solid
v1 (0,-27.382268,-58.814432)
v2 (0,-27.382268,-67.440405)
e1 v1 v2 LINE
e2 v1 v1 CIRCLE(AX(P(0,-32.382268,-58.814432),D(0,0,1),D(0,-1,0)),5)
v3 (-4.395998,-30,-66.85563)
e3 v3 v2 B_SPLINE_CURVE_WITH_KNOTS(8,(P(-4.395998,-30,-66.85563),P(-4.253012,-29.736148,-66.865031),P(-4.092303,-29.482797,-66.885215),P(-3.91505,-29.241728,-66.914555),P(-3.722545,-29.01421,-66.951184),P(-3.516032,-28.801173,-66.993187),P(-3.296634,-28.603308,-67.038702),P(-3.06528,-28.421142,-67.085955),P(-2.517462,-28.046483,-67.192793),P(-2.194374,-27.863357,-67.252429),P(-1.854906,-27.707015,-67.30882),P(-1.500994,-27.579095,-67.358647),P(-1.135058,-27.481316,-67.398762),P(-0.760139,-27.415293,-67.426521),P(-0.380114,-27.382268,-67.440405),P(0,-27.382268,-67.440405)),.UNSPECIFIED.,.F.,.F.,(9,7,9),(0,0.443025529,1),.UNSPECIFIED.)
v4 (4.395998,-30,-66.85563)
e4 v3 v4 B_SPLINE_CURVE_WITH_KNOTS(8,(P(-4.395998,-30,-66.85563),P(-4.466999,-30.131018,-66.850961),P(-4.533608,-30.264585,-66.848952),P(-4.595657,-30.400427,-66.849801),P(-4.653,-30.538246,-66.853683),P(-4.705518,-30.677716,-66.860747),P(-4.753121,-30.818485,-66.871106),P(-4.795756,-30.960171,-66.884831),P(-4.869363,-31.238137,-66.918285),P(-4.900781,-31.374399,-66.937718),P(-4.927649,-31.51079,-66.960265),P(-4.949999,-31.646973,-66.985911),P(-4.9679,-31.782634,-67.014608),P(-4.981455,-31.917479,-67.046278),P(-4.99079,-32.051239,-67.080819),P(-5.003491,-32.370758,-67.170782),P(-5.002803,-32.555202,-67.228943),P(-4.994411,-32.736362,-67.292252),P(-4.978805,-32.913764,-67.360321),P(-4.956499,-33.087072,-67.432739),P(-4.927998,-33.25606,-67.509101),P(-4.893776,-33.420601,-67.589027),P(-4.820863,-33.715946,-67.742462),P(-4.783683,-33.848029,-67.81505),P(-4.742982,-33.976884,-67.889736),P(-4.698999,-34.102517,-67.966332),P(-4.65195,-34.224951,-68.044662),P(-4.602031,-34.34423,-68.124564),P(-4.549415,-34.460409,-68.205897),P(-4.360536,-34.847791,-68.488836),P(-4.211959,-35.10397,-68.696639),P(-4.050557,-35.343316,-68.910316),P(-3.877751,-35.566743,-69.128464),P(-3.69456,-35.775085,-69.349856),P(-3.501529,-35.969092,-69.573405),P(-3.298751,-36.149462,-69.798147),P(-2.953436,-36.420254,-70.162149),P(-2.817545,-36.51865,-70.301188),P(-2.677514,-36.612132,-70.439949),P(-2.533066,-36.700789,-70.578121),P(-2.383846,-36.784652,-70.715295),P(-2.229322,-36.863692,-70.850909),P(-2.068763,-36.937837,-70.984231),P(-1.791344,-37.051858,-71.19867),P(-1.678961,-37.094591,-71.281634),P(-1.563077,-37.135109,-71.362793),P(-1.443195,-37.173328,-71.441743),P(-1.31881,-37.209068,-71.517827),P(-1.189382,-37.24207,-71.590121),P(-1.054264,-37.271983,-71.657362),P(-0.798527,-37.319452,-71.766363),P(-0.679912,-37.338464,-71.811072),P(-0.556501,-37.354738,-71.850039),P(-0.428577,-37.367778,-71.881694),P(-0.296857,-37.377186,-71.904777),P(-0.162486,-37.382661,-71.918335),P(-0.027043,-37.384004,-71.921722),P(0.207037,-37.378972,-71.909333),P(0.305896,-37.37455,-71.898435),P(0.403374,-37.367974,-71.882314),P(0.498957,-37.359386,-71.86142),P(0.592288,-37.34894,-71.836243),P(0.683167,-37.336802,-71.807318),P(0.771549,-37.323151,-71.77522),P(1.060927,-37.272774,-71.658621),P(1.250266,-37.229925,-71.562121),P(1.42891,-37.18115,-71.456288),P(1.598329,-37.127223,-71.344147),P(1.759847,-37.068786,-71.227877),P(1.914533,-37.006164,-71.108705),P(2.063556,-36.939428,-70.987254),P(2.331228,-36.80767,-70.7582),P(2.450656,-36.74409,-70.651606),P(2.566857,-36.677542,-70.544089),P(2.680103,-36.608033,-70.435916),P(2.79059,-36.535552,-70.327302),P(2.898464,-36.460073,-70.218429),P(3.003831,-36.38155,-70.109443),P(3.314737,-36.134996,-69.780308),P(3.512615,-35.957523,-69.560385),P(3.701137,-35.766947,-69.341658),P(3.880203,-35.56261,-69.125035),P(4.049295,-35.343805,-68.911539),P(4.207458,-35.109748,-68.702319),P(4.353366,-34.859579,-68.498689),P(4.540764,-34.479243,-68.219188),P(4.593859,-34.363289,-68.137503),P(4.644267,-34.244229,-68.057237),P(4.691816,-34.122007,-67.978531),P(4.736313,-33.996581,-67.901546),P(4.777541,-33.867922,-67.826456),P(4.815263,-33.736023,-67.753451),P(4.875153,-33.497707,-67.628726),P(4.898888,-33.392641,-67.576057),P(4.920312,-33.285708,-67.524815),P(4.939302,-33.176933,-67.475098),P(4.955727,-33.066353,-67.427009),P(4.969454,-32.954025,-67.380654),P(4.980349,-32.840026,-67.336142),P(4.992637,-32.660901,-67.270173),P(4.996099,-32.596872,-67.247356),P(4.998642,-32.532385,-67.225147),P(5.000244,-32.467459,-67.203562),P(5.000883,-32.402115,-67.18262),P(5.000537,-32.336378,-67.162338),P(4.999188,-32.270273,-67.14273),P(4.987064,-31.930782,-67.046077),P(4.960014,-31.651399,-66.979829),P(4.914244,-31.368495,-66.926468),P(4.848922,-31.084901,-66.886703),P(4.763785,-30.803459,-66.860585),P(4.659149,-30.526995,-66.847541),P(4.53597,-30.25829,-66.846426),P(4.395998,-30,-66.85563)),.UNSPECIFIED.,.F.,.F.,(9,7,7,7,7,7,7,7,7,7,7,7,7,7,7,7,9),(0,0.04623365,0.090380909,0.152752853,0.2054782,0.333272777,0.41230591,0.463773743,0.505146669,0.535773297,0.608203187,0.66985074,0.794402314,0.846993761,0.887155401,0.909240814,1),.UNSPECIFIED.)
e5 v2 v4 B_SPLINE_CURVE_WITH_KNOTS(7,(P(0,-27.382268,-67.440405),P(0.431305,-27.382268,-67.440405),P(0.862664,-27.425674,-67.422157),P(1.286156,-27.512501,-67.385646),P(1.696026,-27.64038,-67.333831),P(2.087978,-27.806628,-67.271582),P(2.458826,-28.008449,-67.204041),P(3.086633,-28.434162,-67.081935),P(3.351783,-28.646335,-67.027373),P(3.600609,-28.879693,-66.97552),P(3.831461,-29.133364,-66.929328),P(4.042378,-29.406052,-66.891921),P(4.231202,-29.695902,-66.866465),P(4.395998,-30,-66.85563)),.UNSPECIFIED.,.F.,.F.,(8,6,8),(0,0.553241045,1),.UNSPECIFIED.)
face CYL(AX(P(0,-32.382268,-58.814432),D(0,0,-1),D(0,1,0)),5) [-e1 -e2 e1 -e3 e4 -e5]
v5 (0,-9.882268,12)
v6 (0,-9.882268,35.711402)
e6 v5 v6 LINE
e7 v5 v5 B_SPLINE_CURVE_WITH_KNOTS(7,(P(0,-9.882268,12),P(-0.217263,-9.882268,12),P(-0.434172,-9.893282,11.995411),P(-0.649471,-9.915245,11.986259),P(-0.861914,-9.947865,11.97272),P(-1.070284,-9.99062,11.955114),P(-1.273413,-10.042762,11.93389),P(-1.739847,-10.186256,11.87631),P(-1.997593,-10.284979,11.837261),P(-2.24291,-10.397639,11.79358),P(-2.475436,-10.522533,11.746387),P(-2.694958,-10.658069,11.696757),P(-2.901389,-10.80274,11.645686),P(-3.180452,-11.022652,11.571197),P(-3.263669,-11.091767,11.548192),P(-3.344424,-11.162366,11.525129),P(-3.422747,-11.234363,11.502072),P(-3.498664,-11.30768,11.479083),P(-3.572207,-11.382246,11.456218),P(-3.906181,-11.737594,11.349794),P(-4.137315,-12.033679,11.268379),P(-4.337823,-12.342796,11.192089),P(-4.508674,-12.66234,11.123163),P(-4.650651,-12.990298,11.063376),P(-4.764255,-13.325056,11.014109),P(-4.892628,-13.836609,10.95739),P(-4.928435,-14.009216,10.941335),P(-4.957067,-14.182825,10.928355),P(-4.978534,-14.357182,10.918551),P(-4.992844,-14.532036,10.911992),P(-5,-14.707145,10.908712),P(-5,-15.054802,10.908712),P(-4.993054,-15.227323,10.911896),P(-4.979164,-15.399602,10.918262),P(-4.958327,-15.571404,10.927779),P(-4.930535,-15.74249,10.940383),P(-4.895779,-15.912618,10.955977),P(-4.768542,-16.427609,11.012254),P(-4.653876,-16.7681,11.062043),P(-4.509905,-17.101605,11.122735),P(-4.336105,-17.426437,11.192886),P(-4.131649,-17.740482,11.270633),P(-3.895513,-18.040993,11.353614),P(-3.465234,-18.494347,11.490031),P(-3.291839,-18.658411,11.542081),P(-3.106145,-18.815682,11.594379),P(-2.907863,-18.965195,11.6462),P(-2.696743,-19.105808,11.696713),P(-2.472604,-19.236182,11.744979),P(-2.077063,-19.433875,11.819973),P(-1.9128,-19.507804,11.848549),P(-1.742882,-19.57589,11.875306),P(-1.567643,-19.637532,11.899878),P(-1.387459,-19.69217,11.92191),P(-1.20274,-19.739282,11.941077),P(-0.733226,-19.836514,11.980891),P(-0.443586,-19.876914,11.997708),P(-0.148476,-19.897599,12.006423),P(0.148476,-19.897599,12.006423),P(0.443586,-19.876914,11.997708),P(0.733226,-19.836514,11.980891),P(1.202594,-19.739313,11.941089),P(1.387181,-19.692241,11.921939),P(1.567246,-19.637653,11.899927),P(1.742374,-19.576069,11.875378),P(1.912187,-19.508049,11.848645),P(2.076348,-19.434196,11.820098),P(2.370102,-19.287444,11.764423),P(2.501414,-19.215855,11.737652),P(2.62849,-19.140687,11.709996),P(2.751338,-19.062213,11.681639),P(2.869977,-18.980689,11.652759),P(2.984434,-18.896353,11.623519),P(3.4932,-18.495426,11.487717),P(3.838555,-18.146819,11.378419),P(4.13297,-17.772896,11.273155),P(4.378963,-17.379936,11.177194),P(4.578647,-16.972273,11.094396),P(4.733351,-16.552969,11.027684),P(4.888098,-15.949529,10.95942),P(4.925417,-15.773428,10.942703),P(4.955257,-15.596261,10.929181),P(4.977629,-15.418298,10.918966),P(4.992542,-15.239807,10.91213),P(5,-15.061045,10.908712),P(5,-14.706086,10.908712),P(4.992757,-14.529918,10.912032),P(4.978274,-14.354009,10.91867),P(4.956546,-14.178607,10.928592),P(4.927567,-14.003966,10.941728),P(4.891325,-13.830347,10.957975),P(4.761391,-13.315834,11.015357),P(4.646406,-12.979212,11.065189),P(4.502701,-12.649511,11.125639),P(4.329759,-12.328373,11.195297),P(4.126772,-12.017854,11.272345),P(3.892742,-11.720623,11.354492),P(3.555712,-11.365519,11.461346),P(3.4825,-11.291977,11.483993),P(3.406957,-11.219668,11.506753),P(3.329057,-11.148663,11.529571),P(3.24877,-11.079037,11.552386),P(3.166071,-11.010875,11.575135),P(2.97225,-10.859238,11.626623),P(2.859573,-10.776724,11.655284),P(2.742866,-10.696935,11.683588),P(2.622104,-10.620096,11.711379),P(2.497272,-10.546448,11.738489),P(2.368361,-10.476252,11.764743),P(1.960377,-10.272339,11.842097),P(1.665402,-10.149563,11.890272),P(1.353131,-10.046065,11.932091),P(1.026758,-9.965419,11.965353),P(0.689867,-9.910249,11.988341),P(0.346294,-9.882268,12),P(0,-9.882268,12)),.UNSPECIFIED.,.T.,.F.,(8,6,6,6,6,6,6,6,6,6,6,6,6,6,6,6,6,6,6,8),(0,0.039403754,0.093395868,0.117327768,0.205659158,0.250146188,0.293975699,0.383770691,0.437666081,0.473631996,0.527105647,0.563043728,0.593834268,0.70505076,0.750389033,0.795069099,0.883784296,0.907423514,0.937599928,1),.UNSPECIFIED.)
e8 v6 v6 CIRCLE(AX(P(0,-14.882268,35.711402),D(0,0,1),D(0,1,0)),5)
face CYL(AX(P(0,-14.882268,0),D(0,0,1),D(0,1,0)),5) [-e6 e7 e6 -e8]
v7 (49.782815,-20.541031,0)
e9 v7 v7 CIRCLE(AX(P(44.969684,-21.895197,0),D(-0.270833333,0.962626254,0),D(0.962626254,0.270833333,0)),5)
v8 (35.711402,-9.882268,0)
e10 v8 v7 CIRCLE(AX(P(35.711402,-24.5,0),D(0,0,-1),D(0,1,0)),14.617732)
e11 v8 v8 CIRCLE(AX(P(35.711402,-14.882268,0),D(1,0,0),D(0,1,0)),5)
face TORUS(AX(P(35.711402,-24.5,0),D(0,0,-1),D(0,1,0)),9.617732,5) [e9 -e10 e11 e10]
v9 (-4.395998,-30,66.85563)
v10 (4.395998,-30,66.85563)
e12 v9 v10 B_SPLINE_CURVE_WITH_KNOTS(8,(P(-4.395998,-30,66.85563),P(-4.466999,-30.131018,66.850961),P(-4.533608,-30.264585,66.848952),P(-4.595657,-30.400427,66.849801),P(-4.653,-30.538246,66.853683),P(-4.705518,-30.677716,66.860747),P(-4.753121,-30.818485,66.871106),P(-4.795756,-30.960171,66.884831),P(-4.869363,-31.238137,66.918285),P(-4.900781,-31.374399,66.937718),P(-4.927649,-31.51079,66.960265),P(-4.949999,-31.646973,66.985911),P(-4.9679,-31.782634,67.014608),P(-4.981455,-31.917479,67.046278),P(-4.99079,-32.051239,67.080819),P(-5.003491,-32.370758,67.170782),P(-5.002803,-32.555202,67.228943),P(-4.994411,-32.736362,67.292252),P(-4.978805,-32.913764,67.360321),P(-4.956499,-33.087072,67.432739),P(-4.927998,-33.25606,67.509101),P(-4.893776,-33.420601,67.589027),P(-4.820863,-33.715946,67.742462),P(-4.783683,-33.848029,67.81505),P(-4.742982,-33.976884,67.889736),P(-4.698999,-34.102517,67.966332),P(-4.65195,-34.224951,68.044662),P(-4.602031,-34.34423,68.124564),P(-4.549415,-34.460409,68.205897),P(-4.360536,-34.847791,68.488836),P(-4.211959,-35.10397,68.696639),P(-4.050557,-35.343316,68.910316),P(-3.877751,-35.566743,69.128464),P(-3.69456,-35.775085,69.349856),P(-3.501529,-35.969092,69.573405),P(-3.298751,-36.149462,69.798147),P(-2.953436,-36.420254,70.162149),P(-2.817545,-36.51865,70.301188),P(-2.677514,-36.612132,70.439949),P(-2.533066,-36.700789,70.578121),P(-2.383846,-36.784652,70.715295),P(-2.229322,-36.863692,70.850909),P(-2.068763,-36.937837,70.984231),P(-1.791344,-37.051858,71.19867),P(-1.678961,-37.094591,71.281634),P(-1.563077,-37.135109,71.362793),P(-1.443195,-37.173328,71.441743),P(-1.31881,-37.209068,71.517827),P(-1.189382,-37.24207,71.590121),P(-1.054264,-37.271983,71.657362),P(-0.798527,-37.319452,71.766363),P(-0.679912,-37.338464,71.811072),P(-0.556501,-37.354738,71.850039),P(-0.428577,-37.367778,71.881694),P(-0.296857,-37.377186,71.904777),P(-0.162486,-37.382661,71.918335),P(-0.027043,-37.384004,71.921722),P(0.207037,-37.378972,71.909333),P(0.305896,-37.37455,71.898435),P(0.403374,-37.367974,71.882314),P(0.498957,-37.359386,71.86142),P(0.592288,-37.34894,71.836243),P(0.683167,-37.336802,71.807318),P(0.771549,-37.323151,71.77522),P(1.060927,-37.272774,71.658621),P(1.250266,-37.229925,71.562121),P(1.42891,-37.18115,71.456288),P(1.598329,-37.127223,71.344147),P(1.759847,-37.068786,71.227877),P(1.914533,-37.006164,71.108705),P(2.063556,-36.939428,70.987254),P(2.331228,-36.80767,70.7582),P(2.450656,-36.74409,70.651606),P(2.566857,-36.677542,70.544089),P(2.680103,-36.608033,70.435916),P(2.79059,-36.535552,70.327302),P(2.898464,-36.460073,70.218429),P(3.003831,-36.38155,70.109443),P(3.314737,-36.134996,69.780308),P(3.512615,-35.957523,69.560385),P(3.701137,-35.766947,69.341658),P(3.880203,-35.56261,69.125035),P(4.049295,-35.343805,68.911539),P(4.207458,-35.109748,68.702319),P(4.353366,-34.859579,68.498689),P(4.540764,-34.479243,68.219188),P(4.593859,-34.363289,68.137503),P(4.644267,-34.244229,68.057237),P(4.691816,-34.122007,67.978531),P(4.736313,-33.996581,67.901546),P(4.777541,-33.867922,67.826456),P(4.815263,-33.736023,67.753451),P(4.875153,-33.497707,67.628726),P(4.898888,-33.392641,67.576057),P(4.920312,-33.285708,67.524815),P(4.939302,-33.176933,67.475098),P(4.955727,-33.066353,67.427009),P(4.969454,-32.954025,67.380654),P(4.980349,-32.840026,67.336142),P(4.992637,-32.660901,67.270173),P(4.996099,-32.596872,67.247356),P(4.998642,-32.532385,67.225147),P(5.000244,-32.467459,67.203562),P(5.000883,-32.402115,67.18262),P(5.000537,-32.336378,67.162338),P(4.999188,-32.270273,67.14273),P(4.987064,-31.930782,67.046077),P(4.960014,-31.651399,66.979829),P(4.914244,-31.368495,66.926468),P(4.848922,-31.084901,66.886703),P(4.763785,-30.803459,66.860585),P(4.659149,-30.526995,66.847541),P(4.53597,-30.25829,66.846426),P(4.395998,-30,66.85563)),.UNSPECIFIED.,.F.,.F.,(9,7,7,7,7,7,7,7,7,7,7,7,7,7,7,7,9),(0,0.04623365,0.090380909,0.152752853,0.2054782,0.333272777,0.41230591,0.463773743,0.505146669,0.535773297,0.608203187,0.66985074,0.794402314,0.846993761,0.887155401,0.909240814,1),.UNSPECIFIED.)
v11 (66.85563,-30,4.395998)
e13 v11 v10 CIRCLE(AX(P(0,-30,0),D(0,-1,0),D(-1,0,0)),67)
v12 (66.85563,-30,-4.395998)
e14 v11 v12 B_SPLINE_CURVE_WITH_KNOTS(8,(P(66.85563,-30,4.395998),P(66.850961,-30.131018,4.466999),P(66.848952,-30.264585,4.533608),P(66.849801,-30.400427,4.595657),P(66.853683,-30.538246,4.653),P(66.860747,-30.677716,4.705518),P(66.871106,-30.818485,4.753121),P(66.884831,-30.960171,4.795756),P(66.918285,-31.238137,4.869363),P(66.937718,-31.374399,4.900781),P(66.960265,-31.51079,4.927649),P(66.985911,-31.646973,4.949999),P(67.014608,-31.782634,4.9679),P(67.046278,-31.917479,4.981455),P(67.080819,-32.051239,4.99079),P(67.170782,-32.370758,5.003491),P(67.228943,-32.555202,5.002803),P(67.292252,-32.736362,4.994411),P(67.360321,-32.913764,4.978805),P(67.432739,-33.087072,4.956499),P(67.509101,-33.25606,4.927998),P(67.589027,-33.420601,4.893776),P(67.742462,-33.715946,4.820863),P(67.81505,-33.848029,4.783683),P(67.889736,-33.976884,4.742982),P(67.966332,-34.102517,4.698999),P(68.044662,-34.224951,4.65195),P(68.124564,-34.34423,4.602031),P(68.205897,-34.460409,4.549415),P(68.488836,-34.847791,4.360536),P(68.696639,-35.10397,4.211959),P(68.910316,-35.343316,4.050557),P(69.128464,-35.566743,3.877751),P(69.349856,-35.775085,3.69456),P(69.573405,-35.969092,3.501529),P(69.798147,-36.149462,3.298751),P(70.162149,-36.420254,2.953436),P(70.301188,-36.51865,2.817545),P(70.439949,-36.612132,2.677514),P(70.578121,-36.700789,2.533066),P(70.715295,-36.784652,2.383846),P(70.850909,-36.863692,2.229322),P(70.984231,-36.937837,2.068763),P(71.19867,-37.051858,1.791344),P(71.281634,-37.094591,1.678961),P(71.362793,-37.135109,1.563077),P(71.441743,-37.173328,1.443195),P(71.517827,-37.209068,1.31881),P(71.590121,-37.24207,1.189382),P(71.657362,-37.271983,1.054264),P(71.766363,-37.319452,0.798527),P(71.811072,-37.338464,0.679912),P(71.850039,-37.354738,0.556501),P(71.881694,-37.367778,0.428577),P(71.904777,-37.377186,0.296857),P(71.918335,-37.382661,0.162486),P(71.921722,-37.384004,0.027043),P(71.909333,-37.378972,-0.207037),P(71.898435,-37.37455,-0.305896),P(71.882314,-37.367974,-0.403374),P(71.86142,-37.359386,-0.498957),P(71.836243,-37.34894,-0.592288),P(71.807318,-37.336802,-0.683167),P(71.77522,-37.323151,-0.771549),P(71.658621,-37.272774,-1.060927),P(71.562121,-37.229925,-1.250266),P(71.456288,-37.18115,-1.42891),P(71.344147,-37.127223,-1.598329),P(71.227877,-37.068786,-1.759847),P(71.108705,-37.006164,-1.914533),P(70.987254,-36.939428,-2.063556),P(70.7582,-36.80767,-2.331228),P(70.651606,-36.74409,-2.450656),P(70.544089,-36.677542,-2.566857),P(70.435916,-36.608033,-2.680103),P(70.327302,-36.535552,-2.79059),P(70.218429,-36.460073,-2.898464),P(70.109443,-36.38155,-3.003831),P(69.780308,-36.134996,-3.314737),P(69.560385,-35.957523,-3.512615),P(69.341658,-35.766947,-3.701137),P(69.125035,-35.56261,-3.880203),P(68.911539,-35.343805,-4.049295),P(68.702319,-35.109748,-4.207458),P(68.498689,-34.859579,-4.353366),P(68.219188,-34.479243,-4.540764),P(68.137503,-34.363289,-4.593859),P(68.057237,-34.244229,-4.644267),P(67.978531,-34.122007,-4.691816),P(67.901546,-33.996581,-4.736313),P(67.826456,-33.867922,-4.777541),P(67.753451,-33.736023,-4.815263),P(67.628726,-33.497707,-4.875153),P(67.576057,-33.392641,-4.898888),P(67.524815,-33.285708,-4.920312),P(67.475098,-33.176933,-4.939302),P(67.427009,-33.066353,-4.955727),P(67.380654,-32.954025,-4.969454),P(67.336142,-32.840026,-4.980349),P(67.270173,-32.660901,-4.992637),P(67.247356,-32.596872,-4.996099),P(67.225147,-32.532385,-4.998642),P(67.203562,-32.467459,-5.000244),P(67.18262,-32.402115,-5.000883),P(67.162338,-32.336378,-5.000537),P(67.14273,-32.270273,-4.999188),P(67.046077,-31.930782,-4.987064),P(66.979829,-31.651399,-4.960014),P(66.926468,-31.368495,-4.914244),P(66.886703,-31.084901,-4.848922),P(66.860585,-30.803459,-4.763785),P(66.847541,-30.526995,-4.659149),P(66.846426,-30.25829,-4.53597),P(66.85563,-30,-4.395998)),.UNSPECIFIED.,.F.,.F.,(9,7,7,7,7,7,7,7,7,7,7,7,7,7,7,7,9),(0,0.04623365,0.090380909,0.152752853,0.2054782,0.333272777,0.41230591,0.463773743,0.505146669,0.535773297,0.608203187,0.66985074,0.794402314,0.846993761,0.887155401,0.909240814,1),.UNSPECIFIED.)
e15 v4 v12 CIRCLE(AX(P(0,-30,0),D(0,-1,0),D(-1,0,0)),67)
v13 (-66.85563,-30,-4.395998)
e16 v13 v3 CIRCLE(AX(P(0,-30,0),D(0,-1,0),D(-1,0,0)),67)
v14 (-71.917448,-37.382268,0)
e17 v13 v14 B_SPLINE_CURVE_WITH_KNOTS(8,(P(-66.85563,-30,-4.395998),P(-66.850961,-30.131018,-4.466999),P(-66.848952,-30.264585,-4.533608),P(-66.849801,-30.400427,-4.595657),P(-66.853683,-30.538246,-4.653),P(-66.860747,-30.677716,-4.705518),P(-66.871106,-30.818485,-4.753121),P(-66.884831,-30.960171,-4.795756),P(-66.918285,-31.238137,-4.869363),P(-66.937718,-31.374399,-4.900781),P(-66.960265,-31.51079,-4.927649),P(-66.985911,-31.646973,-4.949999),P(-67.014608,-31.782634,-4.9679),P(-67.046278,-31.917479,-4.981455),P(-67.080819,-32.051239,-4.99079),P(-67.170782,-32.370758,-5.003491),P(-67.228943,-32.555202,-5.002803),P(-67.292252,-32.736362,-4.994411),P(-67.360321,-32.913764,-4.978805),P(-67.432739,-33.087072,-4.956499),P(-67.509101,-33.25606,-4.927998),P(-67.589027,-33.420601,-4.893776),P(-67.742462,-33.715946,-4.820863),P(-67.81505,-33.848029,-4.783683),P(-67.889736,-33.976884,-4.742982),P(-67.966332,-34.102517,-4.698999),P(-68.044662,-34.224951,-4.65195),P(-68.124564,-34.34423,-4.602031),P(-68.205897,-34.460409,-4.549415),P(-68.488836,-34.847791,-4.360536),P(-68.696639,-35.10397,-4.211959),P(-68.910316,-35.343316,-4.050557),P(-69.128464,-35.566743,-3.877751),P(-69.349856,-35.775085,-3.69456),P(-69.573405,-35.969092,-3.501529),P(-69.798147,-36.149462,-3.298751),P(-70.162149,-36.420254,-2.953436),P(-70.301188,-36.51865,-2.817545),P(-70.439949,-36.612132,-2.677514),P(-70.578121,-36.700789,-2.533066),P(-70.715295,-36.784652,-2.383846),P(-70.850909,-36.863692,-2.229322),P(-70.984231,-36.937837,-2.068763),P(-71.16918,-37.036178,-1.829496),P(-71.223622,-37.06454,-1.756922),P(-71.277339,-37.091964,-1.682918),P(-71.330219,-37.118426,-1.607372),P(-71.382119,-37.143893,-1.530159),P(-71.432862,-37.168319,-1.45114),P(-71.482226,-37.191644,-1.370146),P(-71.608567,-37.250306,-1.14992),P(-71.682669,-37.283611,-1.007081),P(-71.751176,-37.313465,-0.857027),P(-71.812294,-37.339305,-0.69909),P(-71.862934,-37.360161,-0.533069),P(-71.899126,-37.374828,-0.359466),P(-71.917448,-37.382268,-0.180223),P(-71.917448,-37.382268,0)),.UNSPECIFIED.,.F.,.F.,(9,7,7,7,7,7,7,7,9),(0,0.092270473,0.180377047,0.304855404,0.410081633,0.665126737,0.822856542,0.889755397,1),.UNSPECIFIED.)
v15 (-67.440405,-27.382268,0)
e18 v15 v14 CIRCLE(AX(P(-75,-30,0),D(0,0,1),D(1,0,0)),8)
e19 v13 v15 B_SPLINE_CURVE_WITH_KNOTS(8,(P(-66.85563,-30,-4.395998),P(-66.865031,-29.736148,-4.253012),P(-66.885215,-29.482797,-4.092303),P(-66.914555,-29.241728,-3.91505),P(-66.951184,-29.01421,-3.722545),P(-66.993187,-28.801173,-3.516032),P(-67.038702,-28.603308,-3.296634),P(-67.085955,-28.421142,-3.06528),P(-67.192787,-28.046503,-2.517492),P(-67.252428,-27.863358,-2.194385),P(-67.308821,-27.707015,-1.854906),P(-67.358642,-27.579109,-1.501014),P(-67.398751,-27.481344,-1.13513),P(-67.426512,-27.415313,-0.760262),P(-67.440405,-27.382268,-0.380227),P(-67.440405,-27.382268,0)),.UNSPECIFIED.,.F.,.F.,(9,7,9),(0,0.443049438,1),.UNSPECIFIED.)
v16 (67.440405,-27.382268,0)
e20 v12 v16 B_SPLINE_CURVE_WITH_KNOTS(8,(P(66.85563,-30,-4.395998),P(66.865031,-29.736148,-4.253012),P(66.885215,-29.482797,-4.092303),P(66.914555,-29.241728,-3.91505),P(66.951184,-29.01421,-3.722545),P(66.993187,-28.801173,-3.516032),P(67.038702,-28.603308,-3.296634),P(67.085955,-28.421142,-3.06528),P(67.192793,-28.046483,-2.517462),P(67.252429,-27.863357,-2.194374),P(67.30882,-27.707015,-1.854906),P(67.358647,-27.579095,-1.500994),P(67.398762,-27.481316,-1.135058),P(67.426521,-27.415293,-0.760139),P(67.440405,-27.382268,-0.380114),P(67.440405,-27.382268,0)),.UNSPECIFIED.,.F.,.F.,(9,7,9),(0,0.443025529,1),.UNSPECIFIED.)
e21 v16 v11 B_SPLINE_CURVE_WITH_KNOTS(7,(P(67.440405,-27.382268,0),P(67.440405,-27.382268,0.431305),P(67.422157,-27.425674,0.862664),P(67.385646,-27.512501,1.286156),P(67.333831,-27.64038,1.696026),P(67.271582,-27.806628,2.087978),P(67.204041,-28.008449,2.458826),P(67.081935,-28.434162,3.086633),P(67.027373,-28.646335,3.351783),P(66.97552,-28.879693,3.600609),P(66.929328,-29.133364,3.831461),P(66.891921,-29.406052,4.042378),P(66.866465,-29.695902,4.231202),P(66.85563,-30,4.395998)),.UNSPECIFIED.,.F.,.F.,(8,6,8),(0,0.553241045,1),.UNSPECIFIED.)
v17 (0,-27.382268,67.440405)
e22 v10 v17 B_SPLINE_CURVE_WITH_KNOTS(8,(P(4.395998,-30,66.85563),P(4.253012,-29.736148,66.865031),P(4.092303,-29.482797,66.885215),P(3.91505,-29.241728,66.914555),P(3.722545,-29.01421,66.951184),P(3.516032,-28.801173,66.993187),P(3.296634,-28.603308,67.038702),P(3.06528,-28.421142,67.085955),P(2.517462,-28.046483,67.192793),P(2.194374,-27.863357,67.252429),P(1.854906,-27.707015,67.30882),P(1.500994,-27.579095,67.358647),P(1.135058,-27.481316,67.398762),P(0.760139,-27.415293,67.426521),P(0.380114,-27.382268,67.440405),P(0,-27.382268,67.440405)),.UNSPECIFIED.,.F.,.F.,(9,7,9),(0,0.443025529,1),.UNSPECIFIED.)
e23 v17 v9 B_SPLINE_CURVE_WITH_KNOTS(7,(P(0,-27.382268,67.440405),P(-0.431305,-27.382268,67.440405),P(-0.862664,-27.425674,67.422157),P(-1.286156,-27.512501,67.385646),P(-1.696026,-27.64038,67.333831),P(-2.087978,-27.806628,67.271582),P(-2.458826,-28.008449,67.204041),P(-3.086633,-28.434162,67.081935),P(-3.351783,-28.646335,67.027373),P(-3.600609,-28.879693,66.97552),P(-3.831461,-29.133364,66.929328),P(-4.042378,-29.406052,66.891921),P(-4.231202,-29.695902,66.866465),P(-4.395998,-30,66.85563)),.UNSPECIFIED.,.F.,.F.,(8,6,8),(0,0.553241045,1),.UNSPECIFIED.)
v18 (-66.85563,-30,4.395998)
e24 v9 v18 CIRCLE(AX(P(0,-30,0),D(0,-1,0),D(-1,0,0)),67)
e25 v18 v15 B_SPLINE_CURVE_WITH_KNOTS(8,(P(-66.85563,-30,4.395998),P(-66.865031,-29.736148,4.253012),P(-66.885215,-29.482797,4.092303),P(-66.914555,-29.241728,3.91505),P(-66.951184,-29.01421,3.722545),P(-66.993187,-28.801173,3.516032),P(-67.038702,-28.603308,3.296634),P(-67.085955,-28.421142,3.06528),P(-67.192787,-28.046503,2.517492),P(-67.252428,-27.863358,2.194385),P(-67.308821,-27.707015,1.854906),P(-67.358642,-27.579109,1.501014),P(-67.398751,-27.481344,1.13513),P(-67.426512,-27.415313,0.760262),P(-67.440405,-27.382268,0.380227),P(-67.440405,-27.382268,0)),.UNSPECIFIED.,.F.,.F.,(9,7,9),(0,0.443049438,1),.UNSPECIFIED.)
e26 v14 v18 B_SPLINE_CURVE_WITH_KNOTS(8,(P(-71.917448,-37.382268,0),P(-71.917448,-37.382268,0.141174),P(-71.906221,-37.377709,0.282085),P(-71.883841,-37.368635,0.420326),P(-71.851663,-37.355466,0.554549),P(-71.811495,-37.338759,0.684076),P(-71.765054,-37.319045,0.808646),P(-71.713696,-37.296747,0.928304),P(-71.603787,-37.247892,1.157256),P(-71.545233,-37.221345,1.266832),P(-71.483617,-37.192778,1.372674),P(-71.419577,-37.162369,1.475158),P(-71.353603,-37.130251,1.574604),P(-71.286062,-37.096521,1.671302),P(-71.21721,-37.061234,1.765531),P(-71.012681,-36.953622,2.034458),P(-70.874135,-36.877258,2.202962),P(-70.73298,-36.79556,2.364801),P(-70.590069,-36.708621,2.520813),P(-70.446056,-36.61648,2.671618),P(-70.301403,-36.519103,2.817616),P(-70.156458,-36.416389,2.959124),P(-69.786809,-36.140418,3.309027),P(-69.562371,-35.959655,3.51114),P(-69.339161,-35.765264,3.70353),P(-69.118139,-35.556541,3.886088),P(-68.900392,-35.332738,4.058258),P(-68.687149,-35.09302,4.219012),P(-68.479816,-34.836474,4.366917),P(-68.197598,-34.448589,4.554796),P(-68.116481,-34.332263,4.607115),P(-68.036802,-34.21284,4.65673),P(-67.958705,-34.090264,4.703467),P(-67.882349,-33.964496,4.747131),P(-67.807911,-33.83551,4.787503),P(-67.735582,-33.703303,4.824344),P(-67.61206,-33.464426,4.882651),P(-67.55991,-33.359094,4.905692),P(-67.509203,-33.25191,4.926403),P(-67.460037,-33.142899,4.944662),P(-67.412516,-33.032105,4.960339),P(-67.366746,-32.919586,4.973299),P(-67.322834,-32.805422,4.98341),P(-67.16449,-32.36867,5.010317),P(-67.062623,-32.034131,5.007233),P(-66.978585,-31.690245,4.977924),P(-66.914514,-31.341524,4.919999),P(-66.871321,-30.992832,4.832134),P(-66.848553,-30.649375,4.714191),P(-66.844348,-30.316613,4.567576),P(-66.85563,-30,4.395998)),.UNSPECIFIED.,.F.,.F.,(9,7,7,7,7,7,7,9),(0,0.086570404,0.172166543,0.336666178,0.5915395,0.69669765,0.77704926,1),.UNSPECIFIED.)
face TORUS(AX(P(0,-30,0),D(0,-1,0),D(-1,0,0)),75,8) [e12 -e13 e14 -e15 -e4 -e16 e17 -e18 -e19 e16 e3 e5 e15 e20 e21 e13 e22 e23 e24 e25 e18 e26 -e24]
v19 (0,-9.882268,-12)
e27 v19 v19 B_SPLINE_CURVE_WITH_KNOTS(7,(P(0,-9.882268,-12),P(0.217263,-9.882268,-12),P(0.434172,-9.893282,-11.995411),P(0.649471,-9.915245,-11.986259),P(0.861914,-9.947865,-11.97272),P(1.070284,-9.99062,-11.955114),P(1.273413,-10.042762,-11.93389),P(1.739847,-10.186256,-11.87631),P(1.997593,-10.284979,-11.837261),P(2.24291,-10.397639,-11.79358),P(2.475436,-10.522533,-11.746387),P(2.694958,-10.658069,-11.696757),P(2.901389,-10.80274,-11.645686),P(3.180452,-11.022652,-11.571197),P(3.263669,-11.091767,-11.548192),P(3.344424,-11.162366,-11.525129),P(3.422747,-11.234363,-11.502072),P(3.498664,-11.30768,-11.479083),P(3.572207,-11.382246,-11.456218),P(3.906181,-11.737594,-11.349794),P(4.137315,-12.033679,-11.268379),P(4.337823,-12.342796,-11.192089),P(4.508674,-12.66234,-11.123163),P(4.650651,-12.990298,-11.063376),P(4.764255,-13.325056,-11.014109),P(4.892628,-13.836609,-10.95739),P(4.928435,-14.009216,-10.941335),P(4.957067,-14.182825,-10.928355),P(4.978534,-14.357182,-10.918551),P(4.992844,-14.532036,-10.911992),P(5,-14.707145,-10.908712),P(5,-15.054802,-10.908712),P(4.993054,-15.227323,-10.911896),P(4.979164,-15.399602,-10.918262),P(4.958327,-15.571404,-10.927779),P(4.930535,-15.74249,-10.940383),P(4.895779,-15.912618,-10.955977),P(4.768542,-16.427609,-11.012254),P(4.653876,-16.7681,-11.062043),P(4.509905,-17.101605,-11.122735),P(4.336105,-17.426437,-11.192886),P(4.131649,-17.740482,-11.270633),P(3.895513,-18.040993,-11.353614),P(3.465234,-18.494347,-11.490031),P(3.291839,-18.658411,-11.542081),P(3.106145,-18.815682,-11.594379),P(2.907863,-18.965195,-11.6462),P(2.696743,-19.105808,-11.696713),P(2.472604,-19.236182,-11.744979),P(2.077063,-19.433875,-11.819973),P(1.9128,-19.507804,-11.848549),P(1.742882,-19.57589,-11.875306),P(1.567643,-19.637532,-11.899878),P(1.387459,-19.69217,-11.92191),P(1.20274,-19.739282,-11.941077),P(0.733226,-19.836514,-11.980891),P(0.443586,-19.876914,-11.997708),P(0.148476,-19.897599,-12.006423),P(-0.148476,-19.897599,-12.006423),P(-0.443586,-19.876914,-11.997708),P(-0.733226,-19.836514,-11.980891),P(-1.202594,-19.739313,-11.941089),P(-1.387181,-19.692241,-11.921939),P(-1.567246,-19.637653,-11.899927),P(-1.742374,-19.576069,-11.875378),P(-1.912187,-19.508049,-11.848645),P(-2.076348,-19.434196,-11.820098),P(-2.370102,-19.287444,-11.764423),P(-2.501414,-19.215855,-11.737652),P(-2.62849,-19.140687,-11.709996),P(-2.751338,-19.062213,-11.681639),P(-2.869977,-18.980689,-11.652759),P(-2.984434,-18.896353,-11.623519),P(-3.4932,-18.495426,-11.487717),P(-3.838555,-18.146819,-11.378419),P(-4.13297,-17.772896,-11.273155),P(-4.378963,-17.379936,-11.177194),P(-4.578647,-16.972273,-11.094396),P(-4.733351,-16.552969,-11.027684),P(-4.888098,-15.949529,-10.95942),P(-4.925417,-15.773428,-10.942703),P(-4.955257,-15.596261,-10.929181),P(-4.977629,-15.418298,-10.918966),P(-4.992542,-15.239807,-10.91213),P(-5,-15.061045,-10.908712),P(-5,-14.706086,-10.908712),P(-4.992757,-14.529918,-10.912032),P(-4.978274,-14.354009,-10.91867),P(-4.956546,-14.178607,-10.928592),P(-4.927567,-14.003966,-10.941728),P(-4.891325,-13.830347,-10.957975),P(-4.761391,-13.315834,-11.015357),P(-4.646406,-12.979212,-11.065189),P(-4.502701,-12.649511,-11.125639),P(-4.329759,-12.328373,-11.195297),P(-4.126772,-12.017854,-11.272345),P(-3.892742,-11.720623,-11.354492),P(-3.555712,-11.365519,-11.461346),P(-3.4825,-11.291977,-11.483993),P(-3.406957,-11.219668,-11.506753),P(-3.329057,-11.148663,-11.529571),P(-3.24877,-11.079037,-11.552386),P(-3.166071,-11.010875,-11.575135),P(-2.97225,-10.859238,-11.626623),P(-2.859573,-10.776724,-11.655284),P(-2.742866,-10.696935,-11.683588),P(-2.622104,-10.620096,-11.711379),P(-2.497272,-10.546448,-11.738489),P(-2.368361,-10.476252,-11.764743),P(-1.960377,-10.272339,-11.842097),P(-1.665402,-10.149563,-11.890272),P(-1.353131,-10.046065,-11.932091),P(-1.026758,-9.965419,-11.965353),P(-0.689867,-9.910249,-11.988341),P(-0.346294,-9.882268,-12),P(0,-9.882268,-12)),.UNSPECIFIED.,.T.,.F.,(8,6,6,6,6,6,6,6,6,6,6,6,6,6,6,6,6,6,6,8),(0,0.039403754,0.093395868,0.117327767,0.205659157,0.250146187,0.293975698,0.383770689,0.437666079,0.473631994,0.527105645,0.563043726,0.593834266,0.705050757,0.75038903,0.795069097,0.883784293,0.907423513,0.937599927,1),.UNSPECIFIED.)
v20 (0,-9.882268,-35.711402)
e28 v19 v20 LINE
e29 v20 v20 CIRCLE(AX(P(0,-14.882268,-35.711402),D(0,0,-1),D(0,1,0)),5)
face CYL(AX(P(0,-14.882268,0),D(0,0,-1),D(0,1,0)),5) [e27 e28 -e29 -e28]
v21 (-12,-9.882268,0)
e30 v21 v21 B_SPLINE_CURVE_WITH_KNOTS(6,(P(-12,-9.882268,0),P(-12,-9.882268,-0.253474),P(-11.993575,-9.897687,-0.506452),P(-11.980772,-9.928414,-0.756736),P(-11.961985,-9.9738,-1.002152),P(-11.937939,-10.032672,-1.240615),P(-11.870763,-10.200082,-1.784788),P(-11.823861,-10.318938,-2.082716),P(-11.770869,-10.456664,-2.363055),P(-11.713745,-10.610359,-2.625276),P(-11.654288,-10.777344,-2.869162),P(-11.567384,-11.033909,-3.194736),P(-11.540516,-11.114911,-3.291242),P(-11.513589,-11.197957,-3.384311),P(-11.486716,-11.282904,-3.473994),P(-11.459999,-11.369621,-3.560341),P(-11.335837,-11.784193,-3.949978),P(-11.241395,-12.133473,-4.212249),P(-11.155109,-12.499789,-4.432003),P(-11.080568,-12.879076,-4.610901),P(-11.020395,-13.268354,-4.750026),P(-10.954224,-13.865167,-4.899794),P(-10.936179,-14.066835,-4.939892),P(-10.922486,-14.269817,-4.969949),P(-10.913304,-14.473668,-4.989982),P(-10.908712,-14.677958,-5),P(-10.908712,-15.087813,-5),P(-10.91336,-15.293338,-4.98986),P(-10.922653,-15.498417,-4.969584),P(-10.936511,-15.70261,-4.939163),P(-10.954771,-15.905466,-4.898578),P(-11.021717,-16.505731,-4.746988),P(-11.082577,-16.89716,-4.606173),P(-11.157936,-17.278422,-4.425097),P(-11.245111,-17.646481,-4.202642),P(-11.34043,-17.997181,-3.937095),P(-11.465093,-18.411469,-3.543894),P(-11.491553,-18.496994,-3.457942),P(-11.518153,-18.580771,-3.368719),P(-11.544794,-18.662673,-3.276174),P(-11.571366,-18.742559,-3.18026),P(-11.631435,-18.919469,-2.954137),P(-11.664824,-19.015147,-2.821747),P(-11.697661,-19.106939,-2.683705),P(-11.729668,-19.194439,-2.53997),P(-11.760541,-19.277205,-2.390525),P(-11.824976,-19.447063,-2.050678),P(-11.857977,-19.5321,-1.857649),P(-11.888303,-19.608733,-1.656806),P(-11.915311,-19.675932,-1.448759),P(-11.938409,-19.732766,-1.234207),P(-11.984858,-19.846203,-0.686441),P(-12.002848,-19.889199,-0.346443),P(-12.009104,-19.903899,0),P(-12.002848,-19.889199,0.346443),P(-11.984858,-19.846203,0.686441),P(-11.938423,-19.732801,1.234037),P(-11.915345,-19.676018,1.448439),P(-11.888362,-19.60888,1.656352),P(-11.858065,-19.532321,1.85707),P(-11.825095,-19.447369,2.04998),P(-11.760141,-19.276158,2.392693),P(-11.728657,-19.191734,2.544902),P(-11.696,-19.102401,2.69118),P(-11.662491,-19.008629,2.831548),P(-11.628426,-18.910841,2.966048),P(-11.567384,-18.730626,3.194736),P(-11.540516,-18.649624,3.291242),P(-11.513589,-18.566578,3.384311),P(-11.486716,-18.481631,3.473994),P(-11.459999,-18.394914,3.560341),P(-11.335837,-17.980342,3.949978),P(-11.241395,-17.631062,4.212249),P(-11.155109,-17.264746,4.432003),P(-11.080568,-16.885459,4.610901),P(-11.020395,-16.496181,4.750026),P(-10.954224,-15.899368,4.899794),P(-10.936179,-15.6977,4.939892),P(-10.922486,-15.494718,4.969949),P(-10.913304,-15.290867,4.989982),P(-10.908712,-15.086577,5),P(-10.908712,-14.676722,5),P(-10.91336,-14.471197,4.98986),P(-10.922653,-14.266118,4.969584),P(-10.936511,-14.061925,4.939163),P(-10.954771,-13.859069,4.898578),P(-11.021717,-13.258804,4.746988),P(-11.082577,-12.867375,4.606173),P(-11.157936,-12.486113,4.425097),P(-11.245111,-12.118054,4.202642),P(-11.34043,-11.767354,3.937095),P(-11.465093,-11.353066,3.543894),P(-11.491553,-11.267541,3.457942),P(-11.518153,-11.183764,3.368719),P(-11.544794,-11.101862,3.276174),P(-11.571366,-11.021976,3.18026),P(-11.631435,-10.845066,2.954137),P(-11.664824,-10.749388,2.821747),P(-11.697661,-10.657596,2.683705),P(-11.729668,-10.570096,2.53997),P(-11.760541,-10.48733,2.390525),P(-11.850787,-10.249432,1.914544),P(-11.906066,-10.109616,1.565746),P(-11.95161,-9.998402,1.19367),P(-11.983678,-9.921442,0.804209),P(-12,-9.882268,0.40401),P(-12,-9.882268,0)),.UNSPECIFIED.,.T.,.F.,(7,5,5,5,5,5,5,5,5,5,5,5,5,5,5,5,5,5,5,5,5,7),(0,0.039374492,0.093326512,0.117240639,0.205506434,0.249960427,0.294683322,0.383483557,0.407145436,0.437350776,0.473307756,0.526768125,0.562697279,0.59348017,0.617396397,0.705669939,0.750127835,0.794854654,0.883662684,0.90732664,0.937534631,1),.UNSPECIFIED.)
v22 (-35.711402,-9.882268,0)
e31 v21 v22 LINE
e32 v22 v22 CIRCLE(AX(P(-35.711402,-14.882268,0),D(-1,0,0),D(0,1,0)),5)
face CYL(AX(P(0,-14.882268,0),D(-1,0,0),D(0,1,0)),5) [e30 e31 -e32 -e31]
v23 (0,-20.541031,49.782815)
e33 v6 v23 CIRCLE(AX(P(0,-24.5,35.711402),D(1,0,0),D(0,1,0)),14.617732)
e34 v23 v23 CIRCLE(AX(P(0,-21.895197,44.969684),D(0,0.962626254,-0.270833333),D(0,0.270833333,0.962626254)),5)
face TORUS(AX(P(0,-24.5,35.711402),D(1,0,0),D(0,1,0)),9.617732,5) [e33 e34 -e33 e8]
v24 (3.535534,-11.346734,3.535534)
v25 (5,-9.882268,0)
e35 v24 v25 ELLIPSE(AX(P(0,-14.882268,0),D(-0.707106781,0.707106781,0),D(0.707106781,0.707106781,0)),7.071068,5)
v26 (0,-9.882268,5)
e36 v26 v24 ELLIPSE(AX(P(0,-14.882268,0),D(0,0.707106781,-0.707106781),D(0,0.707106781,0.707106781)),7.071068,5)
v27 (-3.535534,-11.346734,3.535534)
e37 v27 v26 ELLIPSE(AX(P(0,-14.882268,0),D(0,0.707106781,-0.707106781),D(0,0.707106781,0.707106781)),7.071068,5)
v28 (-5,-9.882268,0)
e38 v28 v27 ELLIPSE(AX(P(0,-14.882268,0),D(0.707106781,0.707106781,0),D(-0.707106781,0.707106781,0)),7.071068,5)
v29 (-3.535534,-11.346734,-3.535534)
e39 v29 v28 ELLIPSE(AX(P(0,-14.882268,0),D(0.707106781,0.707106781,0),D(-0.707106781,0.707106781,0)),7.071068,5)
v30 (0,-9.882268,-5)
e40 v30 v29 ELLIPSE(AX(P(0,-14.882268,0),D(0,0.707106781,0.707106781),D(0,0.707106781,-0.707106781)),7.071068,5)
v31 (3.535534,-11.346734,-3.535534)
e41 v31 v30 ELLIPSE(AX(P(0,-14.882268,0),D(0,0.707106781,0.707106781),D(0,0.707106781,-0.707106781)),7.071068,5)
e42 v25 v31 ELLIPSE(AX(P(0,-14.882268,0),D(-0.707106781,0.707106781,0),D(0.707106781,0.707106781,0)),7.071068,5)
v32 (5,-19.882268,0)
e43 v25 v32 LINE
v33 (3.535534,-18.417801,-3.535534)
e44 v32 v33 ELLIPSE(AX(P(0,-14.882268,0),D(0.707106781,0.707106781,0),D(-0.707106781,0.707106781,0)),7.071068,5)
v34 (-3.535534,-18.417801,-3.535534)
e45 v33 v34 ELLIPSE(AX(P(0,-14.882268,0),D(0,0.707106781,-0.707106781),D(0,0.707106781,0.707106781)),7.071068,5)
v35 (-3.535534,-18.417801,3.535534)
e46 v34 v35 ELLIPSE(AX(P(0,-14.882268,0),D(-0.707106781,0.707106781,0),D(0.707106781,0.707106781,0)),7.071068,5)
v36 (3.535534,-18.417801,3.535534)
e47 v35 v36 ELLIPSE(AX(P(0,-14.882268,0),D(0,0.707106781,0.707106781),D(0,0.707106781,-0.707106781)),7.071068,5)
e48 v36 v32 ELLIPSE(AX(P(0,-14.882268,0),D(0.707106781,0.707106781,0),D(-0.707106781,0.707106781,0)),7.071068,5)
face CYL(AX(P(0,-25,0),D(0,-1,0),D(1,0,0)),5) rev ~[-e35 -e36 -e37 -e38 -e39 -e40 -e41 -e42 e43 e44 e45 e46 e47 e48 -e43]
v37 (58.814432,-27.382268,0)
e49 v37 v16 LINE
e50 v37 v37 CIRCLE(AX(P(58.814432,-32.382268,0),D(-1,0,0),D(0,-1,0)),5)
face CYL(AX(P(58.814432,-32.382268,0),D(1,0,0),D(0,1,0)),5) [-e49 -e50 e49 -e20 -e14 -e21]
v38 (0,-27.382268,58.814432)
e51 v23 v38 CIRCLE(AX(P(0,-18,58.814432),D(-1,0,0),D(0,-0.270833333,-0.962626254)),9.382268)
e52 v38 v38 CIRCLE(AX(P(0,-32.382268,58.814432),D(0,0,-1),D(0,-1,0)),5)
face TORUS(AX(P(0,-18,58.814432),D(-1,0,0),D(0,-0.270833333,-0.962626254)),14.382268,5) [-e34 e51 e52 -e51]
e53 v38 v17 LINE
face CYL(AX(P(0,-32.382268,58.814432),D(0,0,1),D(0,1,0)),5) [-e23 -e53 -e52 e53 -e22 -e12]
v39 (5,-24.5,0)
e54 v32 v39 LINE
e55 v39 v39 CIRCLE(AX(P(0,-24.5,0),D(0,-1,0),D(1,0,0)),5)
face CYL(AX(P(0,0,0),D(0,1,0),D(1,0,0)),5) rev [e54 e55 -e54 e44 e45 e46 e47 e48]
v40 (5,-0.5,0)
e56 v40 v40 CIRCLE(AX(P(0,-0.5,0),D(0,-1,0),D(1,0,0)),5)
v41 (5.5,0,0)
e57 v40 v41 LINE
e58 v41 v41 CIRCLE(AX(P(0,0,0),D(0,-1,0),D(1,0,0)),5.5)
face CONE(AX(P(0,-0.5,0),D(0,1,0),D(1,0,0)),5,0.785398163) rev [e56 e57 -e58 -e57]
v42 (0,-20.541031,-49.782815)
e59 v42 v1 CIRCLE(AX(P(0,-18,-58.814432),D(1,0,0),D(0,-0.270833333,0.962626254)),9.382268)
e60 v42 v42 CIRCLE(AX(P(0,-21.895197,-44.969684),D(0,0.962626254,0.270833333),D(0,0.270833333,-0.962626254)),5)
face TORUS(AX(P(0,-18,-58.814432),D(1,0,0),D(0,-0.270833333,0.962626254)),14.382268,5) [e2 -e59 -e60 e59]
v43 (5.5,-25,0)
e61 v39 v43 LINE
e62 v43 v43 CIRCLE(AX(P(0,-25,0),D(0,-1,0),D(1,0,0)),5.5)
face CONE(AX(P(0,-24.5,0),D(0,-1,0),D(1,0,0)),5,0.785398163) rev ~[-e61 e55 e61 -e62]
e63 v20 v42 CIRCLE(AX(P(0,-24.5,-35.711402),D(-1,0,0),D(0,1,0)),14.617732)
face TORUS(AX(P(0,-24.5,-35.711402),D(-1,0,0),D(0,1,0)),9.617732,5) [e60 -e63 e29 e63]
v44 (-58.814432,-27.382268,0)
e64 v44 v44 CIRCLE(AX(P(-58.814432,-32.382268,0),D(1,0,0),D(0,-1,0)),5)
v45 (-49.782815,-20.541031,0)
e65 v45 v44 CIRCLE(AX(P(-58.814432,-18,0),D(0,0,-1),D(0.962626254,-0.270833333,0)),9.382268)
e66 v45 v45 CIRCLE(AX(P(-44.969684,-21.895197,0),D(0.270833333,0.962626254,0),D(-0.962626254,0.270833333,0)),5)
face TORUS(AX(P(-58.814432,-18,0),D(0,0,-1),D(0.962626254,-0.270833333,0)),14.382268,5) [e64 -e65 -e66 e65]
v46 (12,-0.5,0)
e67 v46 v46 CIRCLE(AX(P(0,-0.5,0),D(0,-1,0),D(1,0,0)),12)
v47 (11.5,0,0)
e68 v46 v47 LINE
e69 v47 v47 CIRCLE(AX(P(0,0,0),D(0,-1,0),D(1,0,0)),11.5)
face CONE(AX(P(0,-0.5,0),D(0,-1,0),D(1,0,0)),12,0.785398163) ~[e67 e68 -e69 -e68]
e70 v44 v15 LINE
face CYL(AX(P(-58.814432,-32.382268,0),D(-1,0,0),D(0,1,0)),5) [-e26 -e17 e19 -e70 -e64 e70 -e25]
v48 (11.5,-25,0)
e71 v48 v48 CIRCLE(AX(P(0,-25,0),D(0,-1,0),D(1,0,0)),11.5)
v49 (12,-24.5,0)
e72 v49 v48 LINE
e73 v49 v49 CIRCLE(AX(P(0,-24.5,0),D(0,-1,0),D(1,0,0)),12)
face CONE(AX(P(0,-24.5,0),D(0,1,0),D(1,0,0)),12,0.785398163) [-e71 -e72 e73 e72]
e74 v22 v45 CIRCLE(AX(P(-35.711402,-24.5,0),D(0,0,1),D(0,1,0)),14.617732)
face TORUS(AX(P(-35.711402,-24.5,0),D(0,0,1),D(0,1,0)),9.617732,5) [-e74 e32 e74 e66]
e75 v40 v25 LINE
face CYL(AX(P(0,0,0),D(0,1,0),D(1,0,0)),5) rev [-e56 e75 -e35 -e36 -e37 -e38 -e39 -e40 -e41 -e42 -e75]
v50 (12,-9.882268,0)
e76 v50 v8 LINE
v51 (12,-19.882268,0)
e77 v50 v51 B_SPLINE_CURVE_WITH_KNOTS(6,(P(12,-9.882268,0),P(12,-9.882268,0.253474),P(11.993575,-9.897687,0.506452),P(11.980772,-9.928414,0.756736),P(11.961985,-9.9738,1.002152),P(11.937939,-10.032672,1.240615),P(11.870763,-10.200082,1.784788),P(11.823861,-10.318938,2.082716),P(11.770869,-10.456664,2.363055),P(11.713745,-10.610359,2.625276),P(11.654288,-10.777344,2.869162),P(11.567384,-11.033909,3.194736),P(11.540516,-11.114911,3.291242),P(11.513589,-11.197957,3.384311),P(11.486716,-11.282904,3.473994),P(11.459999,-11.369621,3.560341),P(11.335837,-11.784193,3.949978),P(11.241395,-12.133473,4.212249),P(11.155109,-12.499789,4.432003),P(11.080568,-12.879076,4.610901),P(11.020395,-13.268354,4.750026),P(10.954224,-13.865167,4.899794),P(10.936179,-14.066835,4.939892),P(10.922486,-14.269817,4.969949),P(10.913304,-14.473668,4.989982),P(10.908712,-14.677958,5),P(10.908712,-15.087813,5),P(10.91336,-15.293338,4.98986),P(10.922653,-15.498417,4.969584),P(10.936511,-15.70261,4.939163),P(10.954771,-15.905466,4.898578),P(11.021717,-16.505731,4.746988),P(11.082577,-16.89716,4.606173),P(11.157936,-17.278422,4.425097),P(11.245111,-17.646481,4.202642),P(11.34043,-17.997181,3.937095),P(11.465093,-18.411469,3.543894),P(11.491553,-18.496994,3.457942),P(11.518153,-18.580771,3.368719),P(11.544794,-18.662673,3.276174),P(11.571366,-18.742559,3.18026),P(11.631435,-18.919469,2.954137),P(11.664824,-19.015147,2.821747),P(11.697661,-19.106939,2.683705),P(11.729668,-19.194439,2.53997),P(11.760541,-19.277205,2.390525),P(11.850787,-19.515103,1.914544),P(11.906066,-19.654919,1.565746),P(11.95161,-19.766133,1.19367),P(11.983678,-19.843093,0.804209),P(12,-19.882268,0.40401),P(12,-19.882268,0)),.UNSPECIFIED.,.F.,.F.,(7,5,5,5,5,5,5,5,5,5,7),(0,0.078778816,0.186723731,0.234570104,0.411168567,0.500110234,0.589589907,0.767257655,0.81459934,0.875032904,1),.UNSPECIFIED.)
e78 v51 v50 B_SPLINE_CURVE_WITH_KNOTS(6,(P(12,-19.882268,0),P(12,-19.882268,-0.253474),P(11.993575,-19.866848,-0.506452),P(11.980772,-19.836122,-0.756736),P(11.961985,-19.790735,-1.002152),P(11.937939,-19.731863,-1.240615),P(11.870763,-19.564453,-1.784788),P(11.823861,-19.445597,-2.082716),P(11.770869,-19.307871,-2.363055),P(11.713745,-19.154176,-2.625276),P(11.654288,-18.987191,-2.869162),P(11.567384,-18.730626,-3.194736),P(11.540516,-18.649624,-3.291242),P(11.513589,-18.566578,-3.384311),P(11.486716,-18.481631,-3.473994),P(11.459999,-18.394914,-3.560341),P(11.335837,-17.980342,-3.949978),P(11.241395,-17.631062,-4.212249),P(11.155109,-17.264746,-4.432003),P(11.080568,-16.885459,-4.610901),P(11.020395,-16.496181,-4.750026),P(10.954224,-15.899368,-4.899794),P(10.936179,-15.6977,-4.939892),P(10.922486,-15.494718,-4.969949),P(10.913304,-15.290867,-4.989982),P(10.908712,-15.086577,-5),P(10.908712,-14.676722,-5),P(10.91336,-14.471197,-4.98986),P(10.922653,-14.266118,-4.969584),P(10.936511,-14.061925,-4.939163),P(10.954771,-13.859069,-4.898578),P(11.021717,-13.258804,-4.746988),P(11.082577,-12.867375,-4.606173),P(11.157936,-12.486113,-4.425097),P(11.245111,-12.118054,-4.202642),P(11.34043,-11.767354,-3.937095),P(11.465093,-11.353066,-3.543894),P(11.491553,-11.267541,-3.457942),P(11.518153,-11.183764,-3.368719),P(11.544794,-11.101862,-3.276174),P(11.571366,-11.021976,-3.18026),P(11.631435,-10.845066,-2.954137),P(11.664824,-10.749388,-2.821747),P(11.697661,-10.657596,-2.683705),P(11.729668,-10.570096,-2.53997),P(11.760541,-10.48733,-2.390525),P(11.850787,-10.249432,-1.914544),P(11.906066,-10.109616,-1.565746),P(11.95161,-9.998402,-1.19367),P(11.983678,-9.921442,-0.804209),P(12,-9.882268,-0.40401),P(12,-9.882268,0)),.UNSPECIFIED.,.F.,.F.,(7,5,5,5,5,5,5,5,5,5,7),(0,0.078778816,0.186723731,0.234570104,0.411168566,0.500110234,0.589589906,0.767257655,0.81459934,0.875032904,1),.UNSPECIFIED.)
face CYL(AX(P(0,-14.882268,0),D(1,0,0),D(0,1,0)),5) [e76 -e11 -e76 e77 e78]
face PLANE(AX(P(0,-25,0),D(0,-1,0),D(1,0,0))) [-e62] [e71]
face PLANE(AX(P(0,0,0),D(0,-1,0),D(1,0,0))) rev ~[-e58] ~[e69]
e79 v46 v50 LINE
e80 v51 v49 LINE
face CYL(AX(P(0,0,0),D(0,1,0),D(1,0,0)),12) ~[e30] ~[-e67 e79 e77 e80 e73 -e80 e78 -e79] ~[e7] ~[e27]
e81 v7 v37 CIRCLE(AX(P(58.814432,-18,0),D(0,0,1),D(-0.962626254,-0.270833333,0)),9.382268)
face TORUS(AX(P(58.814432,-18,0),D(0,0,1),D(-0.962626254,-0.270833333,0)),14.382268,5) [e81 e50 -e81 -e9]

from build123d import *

# Parameters (mm, degrees)
F0_R      = 12
F0_R_2    = 5
F1_DEPTH  = 25
F2_SIZE   = 0.5
F4_R      = 8
F6_R      = 5
F9_COUNT  = 4
F10_R     = 5
F11_DEPTH = 25


with BuildPart() as f1:
    # F0 (on Front) → F1 (new body)
    with BuildSketch(Plane.XZ):
        Circle(F0_R)
        Circle(F0_R_2, mode=Mode.SUBTRACT)
    extrude(amount=F1_DEPTH)

    # F2
    f2_edges = [f1.edges().sort_by_distance(p)[0] for p in [
        (-12, -25, 0),
        (-5, -25, 0),
        (-12, 0, 0),
        (-5, 0, 0),
    ]]
    chamfer(f2_edges, length=F2_SIZE)



with BuildPart() as f5:
    # F4 (on Top) → F5 (revolve)
    with BuildSketch(Plane.XY):
        with Locations((-75, -30)):
            Circle(F4_R)
    revolve(axis=Axis((0, -5.6829899549, 0), (0, -1, 0)))


with BuildPart() as f7:
    # F7: sweep along a path in F4
    with BuildLine(Plane.XY) as f7_path:
        Line((0, -12.5), (-35.7114023677, -12.5))
        ThreePointArc((-35.7114023677, -12.5), (-42.9570907408, -14.9344367651), (-47.2629174198, -21.25))
        ThreePointArc((-47.2629174198, -21.25), (-51.5687440989, -27.5655632349), (-58.814432472, -30))
        Line((-58.814432472, -30), (-75, -30))
    # F6 (on Right) → F7 (sweep)
    with BuildSketch(Plane.YZ):
        with Locations((-14.8822675128, 0)):
            Circle(F6_R)
    sweep(path=f7_path.line)


with BuildPart() as f1_1:
    add(f1.part)

    add(f5.part)  # F9 merges F5

    add(f7.part)  # F9 merges F7
    # F9: F7 ×4 about axis
    f9_axis = Axis((0, -14.5231960341, 0), (0, 1, 0))
    for i in range(1, F9_COUNT):
        add(f7.part.rotate(f9_axis, i * 360 / F9_COUNT))

    # F10 (on face) → F11 (cut, symmetric)
    with BuildSketch(Plane.XZ.offset(25)):
        Circle(F10_R)
    extrude(amount=F11_DEPTH, both=True, mode=Mode.SUBTRACT)


solid = f1_1.part
